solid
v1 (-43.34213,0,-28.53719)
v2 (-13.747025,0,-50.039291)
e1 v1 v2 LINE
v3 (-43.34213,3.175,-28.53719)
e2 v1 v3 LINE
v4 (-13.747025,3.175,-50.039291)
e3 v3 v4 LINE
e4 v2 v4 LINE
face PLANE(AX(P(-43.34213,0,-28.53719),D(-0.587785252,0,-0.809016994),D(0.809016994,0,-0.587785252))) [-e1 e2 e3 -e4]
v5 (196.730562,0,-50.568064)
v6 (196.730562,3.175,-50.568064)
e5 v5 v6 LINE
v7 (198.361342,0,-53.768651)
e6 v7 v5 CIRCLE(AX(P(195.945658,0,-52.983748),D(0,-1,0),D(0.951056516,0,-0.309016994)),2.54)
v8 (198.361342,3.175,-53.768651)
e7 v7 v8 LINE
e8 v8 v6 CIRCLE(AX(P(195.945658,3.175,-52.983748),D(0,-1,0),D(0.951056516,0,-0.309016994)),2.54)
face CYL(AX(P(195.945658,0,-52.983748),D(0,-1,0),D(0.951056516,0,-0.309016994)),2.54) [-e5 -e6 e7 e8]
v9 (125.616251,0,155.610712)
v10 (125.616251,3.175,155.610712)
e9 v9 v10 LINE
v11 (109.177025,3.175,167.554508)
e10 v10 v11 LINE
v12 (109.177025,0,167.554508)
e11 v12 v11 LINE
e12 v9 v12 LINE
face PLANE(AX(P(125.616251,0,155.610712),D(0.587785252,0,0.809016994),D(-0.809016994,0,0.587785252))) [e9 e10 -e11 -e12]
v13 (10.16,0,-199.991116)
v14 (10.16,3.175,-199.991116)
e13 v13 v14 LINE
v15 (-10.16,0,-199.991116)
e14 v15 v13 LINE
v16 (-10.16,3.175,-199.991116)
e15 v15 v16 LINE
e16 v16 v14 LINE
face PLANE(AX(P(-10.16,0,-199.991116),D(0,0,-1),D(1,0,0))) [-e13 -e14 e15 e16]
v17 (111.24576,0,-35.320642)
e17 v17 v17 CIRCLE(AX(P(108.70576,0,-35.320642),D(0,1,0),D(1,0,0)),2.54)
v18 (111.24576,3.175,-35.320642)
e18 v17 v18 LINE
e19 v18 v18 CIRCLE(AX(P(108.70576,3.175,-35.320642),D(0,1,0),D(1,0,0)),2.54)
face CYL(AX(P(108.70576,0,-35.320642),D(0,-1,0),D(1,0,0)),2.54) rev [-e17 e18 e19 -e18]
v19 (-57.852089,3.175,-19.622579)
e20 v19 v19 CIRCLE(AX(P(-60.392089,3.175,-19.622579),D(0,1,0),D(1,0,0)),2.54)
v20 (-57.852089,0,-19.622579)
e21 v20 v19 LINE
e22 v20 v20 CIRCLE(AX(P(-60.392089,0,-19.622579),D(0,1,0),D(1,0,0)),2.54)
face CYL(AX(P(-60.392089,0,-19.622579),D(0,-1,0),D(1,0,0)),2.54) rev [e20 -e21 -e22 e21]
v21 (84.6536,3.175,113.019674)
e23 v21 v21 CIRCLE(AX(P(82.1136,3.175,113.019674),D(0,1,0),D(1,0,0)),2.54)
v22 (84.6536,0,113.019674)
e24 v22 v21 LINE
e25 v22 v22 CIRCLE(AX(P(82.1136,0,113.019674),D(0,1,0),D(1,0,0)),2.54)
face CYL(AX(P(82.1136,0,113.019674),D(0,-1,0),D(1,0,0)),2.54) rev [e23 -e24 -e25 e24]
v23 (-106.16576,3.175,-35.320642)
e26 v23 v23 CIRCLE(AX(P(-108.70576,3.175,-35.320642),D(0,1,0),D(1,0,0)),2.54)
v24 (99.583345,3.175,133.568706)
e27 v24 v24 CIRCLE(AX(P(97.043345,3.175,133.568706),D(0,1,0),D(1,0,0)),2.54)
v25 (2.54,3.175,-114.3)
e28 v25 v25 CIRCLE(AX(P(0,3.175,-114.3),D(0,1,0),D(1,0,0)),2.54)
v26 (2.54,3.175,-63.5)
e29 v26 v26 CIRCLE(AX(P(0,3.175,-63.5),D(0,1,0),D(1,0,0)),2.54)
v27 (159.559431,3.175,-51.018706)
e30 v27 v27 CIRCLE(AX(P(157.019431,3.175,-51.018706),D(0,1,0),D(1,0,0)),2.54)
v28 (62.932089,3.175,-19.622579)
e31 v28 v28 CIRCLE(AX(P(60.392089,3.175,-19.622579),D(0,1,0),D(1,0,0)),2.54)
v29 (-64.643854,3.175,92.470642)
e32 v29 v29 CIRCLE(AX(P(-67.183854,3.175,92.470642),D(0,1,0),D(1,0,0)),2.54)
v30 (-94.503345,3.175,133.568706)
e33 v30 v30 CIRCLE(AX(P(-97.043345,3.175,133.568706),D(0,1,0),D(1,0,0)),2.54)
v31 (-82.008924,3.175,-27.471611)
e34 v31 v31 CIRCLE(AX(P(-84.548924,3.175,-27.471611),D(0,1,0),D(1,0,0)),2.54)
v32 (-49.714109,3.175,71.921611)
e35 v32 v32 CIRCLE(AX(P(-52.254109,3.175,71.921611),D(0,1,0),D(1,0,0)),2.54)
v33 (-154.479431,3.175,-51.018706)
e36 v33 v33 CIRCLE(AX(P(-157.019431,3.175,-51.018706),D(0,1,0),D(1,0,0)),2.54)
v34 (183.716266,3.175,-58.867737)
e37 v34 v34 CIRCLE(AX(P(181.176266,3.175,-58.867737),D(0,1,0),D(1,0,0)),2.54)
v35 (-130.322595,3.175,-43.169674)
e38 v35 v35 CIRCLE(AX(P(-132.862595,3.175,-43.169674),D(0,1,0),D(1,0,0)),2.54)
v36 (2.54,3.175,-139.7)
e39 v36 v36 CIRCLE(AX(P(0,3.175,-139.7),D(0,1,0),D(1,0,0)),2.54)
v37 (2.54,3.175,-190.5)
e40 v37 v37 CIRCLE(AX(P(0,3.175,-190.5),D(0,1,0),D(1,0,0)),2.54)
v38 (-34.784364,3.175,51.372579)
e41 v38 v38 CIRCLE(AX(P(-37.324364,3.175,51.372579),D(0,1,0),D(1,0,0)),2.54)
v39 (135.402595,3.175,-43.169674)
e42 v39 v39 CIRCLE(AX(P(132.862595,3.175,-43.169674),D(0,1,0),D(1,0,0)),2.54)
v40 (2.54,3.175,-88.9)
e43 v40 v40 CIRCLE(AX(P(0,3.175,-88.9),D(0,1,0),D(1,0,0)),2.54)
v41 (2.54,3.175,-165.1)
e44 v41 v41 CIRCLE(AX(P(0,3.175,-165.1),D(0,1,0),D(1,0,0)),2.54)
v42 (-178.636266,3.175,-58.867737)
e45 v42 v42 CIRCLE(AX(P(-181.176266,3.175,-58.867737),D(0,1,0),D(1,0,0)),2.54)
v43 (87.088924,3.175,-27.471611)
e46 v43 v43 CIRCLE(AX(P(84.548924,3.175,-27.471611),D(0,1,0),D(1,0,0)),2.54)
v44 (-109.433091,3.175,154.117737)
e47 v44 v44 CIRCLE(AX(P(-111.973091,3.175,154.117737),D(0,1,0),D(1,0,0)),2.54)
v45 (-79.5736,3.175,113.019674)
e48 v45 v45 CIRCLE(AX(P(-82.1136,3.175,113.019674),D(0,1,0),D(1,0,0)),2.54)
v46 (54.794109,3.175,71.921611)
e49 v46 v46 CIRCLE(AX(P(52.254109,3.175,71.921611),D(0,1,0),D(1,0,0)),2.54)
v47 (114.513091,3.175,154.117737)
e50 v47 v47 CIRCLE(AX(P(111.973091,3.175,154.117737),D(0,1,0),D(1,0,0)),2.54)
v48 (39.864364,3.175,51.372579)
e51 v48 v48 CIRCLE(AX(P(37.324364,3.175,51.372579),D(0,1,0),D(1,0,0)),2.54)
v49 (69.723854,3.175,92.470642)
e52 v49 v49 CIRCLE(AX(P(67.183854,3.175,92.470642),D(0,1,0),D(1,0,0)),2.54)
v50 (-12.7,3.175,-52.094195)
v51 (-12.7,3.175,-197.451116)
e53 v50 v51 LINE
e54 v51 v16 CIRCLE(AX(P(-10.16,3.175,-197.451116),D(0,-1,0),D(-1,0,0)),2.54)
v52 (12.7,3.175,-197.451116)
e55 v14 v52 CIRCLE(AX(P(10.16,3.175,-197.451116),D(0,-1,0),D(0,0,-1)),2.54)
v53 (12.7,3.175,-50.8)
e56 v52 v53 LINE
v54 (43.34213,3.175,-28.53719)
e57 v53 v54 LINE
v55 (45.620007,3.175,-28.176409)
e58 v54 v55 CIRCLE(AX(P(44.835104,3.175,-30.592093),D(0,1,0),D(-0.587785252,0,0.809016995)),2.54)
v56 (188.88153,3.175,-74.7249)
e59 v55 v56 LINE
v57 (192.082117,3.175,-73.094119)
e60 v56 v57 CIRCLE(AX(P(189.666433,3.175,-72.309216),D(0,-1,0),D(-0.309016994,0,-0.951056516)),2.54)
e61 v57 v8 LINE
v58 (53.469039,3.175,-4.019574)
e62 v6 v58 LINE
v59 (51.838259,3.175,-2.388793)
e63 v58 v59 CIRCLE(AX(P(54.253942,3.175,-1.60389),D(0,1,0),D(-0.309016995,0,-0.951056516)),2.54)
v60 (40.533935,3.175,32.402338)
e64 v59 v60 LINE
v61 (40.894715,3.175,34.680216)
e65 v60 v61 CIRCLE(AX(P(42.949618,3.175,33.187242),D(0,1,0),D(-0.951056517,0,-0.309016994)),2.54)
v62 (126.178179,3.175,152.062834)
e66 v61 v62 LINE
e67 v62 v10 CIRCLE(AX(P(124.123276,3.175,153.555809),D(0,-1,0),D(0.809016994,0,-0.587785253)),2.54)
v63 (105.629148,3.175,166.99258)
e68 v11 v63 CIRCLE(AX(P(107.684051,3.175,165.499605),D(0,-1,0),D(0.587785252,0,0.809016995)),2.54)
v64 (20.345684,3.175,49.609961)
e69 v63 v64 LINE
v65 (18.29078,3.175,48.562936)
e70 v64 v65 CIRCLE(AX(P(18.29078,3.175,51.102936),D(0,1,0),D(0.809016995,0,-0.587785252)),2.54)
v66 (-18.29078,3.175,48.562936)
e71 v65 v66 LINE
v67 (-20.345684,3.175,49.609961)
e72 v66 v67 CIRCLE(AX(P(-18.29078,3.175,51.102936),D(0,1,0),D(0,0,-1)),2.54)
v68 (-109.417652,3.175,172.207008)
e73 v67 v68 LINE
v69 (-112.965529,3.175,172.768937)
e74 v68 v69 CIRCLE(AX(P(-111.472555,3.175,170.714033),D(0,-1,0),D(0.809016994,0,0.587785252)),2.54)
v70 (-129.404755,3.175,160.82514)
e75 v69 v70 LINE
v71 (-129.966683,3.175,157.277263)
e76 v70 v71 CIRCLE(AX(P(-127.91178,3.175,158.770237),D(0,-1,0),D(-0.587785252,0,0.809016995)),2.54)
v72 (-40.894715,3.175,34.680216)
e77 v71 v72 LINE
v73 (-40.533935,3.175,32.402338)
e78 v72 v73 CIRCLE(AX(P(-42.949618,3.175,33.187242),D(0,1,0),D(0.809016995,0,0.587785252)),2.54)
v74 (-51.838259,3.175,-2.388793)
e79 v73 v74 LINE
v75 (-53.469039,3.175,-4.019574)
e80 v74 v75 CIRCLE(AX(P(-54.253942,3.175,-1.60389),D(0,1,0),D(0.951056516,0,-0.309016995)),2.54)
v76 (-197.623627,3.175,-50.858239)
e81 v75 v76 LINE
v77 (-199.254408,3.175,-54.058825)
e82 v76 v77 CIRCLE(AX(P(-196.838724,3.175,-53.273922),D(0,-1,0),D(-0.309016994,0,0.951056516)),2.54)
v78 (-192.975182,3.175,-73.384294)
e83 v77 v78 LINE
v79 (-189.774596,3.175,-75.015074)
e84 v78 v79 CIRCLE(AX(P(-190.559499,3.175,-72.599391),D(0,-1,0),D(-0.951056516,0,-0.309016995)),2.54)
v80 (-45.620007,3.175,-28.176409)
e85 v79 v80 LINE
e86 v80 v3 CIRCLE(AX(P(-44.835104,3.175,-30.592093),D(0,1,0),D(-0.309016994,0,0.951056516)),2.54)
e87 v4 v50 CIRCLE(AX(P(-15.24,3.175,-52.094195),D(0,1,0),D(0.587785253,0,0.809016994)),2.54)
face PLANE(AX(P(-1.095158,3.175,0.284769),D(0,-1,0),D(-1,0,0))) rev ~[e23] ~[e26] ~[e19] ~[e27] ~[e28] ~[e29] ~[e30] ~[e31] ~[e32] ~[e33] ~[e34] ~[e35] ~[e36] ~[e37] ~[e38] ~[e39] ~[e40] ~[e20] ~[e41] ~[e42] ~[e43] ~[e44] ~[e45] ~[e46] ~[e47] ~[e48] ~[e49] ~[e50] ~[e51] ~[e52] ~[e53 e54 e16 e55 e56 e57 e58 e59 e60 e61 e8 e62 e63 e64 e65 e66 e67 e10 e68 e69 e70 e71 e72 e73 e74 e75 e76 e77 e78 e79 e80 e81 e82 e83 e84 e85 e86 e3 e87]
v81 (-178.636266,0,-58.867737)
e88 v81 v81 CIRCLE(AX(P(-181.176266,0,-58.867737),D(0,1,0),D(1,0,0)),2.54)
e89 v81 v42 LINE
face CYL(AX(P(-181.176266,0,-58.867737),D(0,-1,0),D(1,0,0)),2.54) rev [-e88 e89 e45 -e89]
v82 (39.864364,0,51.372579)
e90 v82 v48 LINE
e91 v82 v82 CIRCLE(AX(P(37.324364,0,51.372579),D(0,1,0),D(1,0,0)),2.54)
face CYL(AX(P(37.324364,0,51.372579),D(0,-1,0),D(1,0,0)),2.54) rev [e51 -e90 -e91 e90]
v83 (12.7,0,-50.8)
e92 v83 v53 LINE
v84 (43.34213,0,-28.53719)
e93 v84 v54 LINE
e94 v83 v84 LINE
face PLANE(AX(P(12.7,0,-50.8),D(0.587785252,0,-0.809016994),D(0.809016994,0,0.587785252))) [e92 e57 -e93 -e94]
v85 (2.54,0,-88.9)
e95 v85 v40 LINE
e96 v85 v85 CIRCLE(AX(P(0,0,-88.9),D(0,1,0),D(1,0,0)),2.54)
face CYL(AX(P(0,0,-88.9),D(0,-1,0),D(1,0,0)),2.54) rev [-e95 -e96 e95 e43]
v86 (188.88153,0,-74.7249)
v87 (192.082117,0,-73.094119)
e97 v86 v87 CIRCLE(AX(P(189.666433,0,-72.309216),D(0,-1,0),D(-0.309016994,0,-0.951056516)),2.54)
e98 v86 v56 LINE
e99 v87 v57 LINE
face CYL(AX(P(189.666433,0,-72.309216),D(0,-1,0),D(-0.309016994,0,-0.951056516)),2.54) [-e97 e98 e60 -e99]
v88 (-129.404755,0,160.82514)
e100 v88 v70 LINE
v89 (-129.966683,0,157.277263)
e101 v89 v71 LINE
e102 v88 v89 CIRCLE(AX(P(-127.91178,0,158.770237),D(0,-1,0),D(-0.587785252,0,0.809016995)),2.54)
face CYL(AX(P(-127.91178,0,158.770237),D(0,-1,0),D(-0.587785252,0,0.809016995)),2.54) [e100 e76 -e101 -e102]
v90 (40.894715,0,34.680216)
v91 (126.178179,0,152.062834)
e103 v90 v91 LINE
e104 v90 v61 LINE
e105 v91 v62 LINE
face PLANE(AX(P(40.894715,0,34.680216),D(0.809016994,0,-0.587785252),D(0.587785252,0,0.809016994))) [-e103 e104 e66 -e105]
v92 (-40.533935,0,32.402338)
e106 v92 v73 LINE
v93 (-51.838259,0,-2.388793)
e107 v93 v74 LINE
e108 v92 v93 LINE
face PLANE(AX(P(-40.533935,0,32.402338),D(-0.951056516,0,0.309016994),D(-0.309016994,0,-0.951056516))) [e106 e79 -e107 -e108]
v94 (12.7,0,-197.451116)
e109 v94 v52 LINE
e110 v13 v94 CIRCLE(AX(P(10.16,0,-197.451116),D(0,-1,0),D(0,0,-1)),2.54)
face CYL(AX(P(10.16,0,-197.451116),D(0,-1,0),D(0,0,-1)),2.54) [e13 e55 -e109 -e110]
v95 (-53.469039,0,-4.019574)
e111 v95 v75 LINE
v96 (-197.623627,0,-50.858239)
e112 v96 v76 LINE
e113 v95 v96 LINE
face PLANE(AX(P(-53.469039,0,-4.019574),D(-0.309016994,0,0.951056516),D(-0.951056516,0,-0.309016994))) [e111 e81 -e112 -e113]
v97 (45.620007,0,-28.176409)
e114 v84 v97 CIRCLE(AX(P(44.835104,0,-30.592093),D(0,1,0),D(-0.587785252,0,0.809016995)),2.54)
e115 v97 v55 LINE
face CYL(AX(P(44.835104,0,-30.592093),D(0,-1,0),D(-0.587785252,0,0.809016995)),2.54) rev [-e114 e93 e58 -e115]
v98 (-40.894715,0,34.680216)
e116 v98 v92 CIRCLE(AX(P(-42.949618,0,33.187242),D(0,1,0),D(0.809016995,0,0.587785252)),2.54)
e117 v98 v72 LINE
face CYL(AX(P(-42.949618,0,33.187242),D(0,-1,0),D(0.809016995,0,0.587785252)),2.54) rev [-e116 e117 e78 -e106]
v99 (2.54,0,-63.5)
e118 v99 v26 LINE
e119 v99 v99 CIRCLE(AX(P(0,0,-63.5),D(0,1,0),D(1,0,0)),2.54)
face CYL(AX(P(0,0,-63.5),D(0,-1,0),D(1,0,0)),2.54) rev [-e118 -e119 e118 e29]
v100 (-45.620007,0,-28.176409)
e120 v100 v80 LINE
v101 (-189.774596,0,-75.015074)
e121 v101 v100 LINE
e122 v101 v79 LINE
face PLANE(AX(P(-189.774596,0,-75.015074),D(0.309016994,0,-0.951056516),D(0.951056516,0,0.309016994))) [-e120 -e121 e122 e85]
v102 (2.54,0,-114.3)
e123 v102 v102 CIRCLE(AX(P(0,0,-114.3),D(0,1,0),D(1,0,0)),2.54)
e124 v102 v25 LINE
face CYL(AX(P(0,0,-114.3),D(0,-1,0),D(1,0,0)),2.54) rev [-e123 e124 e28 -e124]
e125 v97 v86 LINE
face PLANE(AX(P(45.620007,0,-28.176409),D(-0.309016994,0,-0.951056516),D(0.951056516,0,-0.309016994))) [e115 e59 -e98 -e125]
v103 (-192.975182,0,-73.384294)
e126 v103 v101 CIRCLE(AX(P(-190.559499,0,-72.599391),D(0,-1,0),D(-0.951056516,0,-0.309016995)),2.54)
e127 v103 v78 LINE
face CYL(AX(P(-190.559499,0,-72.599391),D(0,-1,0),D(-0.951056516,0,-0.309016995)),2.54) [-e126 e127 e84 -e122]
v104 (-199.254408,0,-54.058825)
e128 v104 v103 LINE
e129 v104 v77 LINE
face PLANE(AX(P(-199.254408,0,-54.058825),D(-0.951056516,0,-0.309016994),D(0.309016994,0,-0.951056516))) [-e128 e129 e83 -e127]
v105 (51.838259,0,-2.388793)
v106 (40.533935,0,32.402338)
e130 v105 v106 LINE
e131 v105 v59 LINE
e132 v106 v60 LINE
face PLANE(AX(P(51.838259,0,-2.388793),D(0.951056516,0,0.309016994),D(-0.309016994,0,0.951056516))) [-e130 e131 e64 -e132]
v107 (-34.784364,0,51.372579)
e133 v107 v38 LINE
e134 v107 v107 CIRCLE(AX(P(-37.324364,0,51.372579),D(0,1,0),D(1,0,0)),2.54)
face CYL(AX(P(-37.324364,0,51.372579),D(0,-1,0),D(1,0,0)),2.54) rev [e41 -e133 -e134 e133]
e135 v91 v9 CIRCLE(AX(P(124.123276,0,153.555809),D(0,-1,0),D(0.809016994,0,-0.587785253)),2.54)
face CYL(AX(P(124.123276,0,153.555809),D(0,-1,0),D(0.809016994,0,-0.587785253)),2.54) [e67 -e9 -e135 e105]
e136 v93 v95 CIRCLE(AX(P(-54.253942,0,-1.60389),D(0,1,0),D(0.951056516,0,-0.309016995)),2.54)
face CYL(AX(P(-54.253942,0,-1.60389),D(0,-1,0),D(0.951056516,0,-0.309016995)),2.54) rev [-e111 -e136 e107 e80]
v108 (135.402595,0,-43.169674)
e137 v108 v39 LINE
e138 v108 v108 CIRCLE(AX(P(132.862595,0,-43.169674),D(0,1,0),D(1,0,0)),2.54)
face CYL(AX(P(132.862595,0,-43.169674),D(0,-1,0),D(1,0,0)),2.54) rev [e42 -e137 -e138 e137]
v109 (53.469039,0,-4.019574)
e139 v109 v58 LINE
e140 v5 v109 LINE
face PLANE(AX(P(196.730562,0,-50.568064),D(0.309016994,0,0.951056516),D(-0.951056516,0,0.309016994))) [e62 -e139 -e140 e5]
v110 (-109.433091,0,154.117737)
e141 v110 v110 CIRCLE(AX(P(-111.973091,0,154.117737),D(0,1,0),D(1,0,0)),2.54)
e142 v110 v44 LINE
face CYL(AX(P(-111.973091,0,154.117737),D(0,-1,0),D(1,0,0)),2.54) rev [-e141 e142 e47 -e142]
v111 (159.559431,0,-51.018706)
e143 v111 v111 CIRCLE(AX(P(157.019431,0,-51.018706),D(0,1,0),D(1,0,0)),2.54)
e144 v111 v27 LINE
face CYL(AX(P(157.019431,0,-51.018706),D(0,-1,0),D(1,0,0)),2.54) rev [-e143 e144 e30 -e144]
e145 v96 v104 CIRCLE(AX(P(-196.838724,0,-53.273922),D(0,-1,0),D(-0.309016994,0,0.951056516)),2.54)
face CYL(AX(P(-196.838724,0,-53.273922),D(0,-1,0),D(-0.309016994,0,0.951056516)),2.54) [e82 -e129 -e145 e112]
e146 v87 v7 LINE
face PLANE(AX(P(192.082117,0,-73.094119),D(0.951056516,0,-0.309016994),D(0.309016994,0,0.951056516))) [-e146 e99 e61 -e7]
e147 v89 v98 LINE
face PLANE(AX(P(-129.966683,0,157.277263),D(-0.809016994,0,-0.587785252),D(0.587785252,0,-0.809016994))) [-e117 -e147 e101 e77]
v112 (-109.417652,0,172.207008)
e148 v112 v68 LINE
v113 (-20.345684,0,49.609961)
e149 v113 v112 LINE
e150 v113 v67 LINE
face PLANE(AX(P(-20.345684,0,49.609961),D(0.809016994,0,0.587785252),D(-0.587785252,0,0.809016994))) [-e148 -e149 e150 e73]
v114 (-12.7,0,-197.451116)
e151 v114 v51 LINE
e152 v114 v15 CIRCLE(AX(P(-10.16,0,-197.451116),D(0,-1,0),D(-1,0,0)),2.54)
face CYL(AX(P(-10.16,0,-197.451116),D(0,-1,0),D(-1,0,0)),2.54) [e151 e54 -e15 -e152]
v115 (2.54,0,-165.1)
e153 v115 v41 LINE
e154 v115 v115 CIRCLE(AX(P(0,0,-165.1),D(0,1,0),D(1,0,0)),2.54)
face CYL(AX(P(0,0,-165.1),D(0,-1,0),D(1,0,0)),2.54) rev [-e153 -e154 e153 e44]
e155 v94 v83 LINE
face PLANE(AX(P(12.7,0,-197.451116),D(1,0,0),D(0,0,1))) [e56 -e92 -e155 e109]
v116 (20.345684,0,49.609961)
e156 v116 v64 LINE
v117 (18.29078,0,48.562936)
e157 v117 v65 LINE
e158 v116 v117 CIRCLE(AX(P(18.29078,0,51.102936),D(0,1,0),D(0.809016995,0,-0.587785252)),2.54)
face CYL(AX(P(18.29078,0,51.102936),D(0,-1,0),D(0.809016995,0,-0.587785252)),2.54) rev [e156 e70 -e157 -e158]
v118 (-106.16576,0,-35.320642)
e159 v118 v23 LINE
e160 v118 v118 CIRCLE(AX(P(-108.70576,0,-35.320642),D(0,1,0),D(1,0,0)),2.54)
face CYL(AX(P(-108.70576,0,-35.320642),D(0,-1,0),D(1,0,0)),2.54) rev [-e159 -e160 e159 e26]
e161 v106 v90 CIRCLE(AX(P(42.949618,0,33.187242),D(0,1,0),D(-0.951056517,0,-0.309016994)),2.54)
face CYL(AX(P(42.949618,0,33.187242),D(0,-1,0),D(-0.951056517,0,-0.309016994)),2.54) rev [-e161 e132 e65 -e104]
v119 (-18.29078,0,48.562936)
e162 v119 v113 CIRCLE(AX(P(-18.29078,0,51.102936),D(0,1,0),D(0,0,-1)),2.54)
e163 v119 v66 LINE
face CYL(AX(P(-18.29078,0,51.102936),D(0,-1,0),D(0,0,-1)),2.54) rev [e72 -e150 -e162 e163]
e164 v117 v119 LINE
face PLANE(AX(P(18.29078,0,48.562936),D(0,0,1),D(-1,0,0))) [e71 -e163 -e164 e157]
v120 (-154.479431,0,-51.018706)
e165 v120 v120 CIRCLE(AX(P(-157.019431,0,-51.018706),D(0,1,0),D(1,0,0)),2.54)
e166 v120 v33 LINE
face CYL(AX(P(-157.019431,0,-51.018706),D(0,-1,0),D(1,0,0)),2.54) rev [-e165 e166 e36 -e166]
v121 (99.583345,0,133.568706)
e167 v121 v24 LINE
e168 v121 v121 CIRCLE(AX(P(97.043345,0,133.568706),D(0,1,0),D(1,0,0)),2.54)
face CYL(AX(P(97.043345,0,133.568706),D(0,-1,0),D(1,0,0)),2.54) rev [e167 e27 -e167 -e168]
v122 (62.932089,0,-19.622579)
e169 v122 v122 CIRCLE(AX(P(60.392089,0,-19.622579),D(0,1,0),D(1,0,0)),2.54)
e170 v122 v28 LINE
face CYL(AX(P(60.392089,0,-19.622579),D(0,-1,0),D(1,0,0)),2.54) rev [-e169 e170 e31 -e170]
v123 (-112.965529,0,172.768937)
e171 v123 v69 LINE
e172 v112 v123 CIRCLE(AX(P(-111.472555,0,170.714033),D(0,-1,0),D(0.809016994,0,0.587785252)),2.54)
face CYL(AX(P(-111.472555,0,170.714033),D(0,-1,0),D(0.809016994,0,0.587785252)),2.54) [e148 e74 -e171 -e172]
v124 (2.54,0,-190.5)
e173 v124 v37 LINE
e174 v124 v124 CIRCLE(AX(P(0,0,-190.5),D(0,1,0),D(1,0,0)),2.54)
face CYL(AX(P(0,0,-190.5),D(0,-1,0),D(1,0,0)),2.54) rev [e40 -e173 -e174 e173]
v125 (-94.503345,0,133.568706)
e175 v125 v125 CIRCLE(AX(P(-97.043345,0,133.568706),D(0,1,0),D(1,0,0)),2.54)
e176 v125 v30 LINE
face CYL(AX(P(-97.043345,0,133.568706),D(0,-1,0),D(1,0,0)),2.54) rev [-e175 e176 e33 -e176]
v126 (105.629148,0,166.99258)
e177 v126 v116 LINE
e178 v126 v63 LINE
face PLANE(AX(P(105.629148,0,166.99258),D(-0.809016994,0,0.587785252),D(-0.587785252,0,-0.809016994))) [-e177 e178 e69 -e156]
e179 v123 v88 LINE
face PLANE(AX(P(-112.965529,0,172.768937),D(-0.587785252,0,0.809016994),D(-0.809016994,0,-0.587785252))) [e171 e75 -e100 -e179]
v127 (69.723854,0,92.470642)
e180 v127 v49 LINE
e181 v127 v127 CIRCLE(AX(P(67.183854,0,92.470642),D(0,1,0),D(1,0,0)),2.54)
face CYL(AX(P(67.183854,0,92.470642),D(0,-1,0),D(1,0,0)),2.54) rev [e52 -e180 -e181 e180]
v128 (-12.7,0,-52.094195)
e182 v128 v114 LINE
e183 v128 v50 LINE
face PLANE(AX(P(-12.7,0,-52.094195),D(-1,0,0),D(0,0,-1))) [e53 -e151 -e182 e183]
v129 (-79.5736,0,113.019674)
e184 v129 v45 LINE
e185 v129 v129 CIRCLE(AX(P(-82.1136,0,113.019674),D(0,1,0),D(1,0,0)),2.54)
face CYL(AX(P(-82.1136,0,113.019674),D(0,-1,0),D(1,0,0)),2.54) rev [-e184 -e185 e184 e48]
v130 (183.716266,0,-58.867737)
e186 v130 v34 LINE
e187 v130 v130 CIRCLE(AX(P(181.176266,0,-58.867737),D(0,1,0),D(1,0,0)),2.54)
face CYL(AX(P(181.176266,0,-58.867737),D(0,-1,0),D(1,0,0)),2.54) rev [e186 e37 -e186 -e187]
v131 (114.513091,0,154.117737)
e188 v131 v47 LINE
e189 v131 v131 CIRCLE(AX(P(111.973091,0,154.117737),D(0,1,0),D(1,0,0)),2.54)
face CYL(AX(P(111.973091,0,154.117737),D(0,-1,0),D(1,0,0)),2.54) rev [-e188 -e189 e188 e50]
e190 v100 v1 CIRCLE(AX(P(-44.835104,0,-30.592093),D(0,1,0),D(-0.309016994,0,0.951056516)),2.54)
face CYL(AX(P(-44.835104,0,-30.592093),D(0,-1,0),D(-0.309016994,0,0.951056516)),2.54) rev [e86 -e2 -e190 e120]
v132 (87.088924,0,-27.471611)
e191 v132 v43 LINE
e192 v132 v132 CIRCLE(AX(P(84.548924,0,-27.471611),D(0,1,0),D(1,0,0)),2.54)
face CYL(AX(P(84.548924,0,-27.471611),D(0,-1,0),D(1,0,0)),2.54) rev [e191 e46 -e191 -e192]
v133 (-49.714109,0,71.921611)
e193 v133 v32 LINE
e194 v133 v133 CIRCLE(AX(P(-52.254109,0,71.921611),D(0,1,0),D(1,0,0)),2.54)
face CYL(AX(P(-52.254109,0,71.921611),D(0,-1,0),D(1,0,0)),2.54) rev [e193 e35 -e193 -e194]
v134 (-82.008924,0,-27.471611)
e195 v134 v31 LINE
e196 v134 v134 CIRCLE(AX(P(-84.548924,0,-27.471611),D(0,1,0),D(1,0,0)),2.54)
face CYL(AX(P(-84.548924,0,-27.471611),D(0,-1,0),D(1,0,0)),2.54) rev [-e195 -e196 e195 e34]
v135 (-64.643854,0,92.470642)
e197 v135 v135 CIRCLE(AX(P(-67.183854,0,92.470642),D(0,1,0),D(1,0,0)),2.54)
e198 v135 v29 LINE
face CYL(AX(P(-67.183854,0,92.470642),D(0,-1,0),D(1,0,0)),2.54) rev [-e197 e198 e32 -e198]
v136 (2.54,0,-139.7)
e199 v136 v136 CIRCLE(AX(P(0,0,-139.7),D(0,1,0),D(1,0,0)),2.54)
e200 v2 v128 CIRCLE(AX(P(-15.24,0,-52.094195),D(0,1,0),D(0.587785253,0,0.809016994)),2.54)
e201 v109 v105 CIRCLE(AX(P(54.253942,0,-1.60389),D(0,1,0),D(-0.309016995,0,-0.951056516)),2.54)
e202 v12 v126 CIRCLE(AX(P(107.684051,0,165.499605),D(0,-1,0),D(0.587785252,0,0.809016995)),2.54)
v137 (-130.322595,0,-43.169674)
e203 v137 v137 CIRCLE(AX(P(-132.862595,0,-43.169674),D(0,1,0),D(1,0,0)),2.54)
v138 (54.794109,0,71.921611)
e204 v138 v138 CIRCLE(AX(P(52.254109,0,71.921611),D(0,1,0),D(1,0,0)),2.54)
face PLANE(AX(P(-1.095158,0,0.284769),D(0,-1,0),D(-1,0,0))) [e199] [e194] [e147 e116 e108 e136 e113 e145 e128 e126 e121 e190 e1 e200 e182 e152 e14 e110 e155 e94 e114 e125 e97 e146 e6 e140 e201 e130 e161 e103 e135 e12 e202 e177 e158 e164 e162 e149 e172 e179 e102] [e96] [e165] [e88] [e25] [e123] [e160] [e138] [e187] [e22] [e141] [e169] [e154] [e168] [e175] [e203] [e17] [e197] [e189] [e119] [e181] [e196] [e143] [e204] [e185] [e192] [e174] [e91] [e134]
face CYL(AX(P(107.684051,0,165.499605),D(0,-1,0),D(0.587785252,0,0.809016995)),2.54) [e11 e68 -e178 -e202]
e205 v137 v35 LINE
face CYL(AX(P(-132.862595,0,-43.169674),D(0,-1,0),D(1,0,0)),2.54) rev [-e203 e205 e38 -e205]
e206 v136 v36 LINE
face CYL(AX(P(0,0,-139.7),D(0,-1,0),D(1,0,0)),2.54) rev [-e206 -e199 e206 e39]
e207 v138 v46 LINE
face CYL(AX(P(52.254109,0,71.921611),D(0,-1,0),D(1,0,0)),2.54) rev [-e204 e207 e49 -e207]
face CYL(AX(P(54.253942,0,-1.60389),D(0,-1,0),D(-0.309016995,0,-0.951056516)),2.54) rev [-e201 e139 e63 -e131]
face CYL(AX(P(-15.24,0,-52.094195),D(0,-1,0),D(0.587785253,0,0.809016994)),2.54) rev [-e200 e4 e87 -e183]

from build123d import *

# Parameters (mm, degrees)
BOSS_EXTRUDE1_DEPTH = 3.175
SKETCH4_R           = 2.54
CUT_EXTRUDE12_DEPTH = 3.175


with BuildPart() as part:
    # Sketch2 → Boss-Extrude1 (new body)
    with BuildSketch(Plane(origin=(0, 0, 0), x_dir=(1, 0, 0), z_dir=(0, 1, 0))):
        with BuildLine():
            Line((-12.7, 52.094194642), (-12.7, 197.451116118))
            ThreePointArc((-12.7, 197.451116118), (-11.956051224, 199.247167342), (-10.16, 199.991116118))
            Line((-10.16, 199.991116118), (10.16, 199.991116118))
            ThreePointArc((10.16, 199.991116118), (11.956051224, 199.247167342), (12.7, 197.451116118))
            Line((12.7, 197.451116118), (12.7, 50.8))
            Line((12.7, 50.8), (43.34212974, 28.537189595))
            ThreePointArc((43.34212974, 28.537189595), (44.43776074, 28.083364376), (45.620007447, 28.17640921))
            Line((45.620007447, 28.17640921), (188.881529889, 74.724899563))
            ThreePointArc((188.881529889, 74.724899563), (190.819568924, 74.572372583), (192.082116606, 73.094119178))
            Line((192.082116606, 73.094119178), (198.361341932, 53.768650767))
            ThreePointArc((198.361341932, 53.768650767), (198.208814952, 51.830611732), (196.730561546, 50.568064049))
            Line((196.730561546, 50.568064049), (53.469039104, 4.019573696))
            ThreePointArc((53.469039104, 4.019573696), (52.457891045, 3.399941368), (51.838258718, 2.38879331))
            Line((51.838258718, 2.38879331), (40.533934783, -32.402338363))
            ThreePointArc((40.533934783, -32.402338363), (40.44088995, -33.58458507), (40.894715169, -34.680216069))
            Line((40.894715169, -34.680216069), (126.178179335, -152.062834263))
            ThreePointArc((126.178179335, -152.062834263), (126.632004555, -153.953152345), (125.61625071, -155.610711969))
            Line((125.61625071, -155.610711969), (109.177025385, -167.554508296))
            ThreePointArc((109.177025385, -167.554508296), (107.286707303, -168.008333515), (105.629147678, -166.992579671))
            Line((105.629147678, -166.992579671), (20.345683512, -49.609961478))
            ThreePointArc((20.345683512, -49.609961478), (19.443916216, -48.839779447), (18.290780346, -48.562936018))
            Line((18.290780346, -48.562936018), (-18.290780346, -48.562936018))
            ThreePointArc((-18.290780346, -48.562936018), (-19.443916216, -48.839779447), (-20.345683512, -49.609961478))
            Line((-20.345683512, -49.609961478), (-109.417651575, -172.207007941))
            ThreePointArc((-109.417651575, -172.207007941), (-111.0752112, -173.222761785), (-112.965529282, -172.768936565))
            Line((-112.965529282, -172.768936565), (-129.404754607, -160.825140239))
            ThreePointArc((-129.404754607, -160.825140239), (-130.420508452, -159.167580614), (-129.966683232, -157.277262532))
            Line((-129.966683232, -157.277262532), (-40.894715169, -34.680216069))
            ThreePointArc((-40.894715169, -34.680216069), (-40.44088995, -33.58458507), (-40.533934783, -32.402338363))
            Line((-40.533934783, -32.402338363), (-51.838258718, 2.38879331))
            ThreePointArc((-51.838258718, 2.38879331), (-52.457891045, 3.399941368), (-53.469039104, 4.019573696))
            Line((-53.469039104, 4.019573696), (-197.623627397, 50.858238734))
            ThreePointArc((-197.623627397, 50.858238734), (-199.101880803, 52.120786416), (-199.254407783, 54.058825452))
            Line((-199.254407783, 54.058825452), (-192.975182457, 73.384293863))
            ThreePointArc((-192.975182457, 73.384293863), (-191.712634775, 74.862547268), (-189.77459574, 75.015074248))
            Line((-189.77459574, 75.015074248), (-45.620007447, 28.17640921))
            ThreePointArc((-45.620007447, 28.17640921), (-44.43776074, 28.083364376), (-43.34212974, 28.537189595))
            Line((-43.34212974, 28.537189595), (-13.747025459, 50.039291476))
            ThreePointArc((-13.747025459, 50.039291476), (-12.976843429, 50.941058772), (-12.7, 52.094194642))
        make_face()
    extrude(amount=BOSS_EXTRUDE1_DEPTH)

    # Sketch4 → Cut-Extrude12 (cut)
    with BuildSketch(Plane(origin=(0, 0, 0), x_dir=(1, 0, 0), z_dir=(0, 1, 0))):
        with Locations((0, 63.5)):
            Circle(SKETCH4_R)
        with Locations((60.392088785, 19.622579143)):
            Circle(SKETCH4_R)
        with Locations((37.324363521, -51.372579143)):
            Circle(SKETCH4_R)
        with Locations((-37.324363521, -51.372579143)):
            Circle(SKETCH4_R)
        with Locations((-60.392088785, 19.622579143)):
            Circle(SKETCH4_R)
        with Locations((0, 88.9)):
            Circle(SKETCH4_R)
        with Locations((0, 114.3)):
            Circle(SKETCH4_R)
        with Locations((0, 139.7)):
            Circle(SKETCH4_R)
        with Locations((0, 165.1)):
            Circle(SKETCH4_R)
        with Locations((0, 190.5)):
            Circle(SKETCH4_R)
        with Locations((84.548924299, 27.4716108)):
            Circle(SKETCH4_R)
        with Locations((108.705759813, 35.320642457)):
            Circle(SKETCH4_R)
        with Locations((132.862595326, 43.169674114)):
            Circle(SKETCH4_R)
        with Locations((157.01943084, 51.018705771)):
            Circle(SKETCH4_R)
        with Locations((181.176266354, 58.867737428)):
            Circle(SKETCH4_R)
        with Locations((52.254108929, -71.9216108)):
            Circle(SKETCH4_R)
        with Locations((67.183854337, -92.470642457)):
            Circle(SKETCH4_R)
        with Locations((82.113599745, -113.019674114)):
            Circle(SKETCH4_R)
        with Locations((97.043345153, -133.568705771)):
            Circle(SKETCH4_R)
        with Locations((111.973090562, -154.117737428)):
            Circle(SKETCH4_R)
        with Locations((-52.254108929, -71.9216108)):
            Circle(SKETCH4_R)
        with Locations((-67.183854337, -92.470642457)):
            Circle(SKETCH4_R)
        with Locations((-82.113599745, -113.019674114)):
            Circle(SKETCH4_R)
        with Locations((-97.043345153, -133.568705771)):
            Circle(SKETCH4_R)
        with Locations((-111.973090562, -154.117737428)):
            Circle(SKETCH4_R)
        with Locations((-84.548924299, 27.4716108)):
            Circle(SKETCH4_R)
        with Locations((-108.705759813, 35.320642457)):
            Circle(SKETCH4_R)
        with Locations((-132.862595326, 43.169674114)):
            Circle(SKETCH4_R)
        with Locations((-157.01943084, 51.018705771)):
            Circle(SKETCH4_R)
        with Locations((-181.176266354, 58.867737428)):
            Circle(SKETCH4_R)
    extrude(amount=CUT_EXTRUDE12_DEPTH, mode=Mode.SUBTRACT)


solid = part.part
